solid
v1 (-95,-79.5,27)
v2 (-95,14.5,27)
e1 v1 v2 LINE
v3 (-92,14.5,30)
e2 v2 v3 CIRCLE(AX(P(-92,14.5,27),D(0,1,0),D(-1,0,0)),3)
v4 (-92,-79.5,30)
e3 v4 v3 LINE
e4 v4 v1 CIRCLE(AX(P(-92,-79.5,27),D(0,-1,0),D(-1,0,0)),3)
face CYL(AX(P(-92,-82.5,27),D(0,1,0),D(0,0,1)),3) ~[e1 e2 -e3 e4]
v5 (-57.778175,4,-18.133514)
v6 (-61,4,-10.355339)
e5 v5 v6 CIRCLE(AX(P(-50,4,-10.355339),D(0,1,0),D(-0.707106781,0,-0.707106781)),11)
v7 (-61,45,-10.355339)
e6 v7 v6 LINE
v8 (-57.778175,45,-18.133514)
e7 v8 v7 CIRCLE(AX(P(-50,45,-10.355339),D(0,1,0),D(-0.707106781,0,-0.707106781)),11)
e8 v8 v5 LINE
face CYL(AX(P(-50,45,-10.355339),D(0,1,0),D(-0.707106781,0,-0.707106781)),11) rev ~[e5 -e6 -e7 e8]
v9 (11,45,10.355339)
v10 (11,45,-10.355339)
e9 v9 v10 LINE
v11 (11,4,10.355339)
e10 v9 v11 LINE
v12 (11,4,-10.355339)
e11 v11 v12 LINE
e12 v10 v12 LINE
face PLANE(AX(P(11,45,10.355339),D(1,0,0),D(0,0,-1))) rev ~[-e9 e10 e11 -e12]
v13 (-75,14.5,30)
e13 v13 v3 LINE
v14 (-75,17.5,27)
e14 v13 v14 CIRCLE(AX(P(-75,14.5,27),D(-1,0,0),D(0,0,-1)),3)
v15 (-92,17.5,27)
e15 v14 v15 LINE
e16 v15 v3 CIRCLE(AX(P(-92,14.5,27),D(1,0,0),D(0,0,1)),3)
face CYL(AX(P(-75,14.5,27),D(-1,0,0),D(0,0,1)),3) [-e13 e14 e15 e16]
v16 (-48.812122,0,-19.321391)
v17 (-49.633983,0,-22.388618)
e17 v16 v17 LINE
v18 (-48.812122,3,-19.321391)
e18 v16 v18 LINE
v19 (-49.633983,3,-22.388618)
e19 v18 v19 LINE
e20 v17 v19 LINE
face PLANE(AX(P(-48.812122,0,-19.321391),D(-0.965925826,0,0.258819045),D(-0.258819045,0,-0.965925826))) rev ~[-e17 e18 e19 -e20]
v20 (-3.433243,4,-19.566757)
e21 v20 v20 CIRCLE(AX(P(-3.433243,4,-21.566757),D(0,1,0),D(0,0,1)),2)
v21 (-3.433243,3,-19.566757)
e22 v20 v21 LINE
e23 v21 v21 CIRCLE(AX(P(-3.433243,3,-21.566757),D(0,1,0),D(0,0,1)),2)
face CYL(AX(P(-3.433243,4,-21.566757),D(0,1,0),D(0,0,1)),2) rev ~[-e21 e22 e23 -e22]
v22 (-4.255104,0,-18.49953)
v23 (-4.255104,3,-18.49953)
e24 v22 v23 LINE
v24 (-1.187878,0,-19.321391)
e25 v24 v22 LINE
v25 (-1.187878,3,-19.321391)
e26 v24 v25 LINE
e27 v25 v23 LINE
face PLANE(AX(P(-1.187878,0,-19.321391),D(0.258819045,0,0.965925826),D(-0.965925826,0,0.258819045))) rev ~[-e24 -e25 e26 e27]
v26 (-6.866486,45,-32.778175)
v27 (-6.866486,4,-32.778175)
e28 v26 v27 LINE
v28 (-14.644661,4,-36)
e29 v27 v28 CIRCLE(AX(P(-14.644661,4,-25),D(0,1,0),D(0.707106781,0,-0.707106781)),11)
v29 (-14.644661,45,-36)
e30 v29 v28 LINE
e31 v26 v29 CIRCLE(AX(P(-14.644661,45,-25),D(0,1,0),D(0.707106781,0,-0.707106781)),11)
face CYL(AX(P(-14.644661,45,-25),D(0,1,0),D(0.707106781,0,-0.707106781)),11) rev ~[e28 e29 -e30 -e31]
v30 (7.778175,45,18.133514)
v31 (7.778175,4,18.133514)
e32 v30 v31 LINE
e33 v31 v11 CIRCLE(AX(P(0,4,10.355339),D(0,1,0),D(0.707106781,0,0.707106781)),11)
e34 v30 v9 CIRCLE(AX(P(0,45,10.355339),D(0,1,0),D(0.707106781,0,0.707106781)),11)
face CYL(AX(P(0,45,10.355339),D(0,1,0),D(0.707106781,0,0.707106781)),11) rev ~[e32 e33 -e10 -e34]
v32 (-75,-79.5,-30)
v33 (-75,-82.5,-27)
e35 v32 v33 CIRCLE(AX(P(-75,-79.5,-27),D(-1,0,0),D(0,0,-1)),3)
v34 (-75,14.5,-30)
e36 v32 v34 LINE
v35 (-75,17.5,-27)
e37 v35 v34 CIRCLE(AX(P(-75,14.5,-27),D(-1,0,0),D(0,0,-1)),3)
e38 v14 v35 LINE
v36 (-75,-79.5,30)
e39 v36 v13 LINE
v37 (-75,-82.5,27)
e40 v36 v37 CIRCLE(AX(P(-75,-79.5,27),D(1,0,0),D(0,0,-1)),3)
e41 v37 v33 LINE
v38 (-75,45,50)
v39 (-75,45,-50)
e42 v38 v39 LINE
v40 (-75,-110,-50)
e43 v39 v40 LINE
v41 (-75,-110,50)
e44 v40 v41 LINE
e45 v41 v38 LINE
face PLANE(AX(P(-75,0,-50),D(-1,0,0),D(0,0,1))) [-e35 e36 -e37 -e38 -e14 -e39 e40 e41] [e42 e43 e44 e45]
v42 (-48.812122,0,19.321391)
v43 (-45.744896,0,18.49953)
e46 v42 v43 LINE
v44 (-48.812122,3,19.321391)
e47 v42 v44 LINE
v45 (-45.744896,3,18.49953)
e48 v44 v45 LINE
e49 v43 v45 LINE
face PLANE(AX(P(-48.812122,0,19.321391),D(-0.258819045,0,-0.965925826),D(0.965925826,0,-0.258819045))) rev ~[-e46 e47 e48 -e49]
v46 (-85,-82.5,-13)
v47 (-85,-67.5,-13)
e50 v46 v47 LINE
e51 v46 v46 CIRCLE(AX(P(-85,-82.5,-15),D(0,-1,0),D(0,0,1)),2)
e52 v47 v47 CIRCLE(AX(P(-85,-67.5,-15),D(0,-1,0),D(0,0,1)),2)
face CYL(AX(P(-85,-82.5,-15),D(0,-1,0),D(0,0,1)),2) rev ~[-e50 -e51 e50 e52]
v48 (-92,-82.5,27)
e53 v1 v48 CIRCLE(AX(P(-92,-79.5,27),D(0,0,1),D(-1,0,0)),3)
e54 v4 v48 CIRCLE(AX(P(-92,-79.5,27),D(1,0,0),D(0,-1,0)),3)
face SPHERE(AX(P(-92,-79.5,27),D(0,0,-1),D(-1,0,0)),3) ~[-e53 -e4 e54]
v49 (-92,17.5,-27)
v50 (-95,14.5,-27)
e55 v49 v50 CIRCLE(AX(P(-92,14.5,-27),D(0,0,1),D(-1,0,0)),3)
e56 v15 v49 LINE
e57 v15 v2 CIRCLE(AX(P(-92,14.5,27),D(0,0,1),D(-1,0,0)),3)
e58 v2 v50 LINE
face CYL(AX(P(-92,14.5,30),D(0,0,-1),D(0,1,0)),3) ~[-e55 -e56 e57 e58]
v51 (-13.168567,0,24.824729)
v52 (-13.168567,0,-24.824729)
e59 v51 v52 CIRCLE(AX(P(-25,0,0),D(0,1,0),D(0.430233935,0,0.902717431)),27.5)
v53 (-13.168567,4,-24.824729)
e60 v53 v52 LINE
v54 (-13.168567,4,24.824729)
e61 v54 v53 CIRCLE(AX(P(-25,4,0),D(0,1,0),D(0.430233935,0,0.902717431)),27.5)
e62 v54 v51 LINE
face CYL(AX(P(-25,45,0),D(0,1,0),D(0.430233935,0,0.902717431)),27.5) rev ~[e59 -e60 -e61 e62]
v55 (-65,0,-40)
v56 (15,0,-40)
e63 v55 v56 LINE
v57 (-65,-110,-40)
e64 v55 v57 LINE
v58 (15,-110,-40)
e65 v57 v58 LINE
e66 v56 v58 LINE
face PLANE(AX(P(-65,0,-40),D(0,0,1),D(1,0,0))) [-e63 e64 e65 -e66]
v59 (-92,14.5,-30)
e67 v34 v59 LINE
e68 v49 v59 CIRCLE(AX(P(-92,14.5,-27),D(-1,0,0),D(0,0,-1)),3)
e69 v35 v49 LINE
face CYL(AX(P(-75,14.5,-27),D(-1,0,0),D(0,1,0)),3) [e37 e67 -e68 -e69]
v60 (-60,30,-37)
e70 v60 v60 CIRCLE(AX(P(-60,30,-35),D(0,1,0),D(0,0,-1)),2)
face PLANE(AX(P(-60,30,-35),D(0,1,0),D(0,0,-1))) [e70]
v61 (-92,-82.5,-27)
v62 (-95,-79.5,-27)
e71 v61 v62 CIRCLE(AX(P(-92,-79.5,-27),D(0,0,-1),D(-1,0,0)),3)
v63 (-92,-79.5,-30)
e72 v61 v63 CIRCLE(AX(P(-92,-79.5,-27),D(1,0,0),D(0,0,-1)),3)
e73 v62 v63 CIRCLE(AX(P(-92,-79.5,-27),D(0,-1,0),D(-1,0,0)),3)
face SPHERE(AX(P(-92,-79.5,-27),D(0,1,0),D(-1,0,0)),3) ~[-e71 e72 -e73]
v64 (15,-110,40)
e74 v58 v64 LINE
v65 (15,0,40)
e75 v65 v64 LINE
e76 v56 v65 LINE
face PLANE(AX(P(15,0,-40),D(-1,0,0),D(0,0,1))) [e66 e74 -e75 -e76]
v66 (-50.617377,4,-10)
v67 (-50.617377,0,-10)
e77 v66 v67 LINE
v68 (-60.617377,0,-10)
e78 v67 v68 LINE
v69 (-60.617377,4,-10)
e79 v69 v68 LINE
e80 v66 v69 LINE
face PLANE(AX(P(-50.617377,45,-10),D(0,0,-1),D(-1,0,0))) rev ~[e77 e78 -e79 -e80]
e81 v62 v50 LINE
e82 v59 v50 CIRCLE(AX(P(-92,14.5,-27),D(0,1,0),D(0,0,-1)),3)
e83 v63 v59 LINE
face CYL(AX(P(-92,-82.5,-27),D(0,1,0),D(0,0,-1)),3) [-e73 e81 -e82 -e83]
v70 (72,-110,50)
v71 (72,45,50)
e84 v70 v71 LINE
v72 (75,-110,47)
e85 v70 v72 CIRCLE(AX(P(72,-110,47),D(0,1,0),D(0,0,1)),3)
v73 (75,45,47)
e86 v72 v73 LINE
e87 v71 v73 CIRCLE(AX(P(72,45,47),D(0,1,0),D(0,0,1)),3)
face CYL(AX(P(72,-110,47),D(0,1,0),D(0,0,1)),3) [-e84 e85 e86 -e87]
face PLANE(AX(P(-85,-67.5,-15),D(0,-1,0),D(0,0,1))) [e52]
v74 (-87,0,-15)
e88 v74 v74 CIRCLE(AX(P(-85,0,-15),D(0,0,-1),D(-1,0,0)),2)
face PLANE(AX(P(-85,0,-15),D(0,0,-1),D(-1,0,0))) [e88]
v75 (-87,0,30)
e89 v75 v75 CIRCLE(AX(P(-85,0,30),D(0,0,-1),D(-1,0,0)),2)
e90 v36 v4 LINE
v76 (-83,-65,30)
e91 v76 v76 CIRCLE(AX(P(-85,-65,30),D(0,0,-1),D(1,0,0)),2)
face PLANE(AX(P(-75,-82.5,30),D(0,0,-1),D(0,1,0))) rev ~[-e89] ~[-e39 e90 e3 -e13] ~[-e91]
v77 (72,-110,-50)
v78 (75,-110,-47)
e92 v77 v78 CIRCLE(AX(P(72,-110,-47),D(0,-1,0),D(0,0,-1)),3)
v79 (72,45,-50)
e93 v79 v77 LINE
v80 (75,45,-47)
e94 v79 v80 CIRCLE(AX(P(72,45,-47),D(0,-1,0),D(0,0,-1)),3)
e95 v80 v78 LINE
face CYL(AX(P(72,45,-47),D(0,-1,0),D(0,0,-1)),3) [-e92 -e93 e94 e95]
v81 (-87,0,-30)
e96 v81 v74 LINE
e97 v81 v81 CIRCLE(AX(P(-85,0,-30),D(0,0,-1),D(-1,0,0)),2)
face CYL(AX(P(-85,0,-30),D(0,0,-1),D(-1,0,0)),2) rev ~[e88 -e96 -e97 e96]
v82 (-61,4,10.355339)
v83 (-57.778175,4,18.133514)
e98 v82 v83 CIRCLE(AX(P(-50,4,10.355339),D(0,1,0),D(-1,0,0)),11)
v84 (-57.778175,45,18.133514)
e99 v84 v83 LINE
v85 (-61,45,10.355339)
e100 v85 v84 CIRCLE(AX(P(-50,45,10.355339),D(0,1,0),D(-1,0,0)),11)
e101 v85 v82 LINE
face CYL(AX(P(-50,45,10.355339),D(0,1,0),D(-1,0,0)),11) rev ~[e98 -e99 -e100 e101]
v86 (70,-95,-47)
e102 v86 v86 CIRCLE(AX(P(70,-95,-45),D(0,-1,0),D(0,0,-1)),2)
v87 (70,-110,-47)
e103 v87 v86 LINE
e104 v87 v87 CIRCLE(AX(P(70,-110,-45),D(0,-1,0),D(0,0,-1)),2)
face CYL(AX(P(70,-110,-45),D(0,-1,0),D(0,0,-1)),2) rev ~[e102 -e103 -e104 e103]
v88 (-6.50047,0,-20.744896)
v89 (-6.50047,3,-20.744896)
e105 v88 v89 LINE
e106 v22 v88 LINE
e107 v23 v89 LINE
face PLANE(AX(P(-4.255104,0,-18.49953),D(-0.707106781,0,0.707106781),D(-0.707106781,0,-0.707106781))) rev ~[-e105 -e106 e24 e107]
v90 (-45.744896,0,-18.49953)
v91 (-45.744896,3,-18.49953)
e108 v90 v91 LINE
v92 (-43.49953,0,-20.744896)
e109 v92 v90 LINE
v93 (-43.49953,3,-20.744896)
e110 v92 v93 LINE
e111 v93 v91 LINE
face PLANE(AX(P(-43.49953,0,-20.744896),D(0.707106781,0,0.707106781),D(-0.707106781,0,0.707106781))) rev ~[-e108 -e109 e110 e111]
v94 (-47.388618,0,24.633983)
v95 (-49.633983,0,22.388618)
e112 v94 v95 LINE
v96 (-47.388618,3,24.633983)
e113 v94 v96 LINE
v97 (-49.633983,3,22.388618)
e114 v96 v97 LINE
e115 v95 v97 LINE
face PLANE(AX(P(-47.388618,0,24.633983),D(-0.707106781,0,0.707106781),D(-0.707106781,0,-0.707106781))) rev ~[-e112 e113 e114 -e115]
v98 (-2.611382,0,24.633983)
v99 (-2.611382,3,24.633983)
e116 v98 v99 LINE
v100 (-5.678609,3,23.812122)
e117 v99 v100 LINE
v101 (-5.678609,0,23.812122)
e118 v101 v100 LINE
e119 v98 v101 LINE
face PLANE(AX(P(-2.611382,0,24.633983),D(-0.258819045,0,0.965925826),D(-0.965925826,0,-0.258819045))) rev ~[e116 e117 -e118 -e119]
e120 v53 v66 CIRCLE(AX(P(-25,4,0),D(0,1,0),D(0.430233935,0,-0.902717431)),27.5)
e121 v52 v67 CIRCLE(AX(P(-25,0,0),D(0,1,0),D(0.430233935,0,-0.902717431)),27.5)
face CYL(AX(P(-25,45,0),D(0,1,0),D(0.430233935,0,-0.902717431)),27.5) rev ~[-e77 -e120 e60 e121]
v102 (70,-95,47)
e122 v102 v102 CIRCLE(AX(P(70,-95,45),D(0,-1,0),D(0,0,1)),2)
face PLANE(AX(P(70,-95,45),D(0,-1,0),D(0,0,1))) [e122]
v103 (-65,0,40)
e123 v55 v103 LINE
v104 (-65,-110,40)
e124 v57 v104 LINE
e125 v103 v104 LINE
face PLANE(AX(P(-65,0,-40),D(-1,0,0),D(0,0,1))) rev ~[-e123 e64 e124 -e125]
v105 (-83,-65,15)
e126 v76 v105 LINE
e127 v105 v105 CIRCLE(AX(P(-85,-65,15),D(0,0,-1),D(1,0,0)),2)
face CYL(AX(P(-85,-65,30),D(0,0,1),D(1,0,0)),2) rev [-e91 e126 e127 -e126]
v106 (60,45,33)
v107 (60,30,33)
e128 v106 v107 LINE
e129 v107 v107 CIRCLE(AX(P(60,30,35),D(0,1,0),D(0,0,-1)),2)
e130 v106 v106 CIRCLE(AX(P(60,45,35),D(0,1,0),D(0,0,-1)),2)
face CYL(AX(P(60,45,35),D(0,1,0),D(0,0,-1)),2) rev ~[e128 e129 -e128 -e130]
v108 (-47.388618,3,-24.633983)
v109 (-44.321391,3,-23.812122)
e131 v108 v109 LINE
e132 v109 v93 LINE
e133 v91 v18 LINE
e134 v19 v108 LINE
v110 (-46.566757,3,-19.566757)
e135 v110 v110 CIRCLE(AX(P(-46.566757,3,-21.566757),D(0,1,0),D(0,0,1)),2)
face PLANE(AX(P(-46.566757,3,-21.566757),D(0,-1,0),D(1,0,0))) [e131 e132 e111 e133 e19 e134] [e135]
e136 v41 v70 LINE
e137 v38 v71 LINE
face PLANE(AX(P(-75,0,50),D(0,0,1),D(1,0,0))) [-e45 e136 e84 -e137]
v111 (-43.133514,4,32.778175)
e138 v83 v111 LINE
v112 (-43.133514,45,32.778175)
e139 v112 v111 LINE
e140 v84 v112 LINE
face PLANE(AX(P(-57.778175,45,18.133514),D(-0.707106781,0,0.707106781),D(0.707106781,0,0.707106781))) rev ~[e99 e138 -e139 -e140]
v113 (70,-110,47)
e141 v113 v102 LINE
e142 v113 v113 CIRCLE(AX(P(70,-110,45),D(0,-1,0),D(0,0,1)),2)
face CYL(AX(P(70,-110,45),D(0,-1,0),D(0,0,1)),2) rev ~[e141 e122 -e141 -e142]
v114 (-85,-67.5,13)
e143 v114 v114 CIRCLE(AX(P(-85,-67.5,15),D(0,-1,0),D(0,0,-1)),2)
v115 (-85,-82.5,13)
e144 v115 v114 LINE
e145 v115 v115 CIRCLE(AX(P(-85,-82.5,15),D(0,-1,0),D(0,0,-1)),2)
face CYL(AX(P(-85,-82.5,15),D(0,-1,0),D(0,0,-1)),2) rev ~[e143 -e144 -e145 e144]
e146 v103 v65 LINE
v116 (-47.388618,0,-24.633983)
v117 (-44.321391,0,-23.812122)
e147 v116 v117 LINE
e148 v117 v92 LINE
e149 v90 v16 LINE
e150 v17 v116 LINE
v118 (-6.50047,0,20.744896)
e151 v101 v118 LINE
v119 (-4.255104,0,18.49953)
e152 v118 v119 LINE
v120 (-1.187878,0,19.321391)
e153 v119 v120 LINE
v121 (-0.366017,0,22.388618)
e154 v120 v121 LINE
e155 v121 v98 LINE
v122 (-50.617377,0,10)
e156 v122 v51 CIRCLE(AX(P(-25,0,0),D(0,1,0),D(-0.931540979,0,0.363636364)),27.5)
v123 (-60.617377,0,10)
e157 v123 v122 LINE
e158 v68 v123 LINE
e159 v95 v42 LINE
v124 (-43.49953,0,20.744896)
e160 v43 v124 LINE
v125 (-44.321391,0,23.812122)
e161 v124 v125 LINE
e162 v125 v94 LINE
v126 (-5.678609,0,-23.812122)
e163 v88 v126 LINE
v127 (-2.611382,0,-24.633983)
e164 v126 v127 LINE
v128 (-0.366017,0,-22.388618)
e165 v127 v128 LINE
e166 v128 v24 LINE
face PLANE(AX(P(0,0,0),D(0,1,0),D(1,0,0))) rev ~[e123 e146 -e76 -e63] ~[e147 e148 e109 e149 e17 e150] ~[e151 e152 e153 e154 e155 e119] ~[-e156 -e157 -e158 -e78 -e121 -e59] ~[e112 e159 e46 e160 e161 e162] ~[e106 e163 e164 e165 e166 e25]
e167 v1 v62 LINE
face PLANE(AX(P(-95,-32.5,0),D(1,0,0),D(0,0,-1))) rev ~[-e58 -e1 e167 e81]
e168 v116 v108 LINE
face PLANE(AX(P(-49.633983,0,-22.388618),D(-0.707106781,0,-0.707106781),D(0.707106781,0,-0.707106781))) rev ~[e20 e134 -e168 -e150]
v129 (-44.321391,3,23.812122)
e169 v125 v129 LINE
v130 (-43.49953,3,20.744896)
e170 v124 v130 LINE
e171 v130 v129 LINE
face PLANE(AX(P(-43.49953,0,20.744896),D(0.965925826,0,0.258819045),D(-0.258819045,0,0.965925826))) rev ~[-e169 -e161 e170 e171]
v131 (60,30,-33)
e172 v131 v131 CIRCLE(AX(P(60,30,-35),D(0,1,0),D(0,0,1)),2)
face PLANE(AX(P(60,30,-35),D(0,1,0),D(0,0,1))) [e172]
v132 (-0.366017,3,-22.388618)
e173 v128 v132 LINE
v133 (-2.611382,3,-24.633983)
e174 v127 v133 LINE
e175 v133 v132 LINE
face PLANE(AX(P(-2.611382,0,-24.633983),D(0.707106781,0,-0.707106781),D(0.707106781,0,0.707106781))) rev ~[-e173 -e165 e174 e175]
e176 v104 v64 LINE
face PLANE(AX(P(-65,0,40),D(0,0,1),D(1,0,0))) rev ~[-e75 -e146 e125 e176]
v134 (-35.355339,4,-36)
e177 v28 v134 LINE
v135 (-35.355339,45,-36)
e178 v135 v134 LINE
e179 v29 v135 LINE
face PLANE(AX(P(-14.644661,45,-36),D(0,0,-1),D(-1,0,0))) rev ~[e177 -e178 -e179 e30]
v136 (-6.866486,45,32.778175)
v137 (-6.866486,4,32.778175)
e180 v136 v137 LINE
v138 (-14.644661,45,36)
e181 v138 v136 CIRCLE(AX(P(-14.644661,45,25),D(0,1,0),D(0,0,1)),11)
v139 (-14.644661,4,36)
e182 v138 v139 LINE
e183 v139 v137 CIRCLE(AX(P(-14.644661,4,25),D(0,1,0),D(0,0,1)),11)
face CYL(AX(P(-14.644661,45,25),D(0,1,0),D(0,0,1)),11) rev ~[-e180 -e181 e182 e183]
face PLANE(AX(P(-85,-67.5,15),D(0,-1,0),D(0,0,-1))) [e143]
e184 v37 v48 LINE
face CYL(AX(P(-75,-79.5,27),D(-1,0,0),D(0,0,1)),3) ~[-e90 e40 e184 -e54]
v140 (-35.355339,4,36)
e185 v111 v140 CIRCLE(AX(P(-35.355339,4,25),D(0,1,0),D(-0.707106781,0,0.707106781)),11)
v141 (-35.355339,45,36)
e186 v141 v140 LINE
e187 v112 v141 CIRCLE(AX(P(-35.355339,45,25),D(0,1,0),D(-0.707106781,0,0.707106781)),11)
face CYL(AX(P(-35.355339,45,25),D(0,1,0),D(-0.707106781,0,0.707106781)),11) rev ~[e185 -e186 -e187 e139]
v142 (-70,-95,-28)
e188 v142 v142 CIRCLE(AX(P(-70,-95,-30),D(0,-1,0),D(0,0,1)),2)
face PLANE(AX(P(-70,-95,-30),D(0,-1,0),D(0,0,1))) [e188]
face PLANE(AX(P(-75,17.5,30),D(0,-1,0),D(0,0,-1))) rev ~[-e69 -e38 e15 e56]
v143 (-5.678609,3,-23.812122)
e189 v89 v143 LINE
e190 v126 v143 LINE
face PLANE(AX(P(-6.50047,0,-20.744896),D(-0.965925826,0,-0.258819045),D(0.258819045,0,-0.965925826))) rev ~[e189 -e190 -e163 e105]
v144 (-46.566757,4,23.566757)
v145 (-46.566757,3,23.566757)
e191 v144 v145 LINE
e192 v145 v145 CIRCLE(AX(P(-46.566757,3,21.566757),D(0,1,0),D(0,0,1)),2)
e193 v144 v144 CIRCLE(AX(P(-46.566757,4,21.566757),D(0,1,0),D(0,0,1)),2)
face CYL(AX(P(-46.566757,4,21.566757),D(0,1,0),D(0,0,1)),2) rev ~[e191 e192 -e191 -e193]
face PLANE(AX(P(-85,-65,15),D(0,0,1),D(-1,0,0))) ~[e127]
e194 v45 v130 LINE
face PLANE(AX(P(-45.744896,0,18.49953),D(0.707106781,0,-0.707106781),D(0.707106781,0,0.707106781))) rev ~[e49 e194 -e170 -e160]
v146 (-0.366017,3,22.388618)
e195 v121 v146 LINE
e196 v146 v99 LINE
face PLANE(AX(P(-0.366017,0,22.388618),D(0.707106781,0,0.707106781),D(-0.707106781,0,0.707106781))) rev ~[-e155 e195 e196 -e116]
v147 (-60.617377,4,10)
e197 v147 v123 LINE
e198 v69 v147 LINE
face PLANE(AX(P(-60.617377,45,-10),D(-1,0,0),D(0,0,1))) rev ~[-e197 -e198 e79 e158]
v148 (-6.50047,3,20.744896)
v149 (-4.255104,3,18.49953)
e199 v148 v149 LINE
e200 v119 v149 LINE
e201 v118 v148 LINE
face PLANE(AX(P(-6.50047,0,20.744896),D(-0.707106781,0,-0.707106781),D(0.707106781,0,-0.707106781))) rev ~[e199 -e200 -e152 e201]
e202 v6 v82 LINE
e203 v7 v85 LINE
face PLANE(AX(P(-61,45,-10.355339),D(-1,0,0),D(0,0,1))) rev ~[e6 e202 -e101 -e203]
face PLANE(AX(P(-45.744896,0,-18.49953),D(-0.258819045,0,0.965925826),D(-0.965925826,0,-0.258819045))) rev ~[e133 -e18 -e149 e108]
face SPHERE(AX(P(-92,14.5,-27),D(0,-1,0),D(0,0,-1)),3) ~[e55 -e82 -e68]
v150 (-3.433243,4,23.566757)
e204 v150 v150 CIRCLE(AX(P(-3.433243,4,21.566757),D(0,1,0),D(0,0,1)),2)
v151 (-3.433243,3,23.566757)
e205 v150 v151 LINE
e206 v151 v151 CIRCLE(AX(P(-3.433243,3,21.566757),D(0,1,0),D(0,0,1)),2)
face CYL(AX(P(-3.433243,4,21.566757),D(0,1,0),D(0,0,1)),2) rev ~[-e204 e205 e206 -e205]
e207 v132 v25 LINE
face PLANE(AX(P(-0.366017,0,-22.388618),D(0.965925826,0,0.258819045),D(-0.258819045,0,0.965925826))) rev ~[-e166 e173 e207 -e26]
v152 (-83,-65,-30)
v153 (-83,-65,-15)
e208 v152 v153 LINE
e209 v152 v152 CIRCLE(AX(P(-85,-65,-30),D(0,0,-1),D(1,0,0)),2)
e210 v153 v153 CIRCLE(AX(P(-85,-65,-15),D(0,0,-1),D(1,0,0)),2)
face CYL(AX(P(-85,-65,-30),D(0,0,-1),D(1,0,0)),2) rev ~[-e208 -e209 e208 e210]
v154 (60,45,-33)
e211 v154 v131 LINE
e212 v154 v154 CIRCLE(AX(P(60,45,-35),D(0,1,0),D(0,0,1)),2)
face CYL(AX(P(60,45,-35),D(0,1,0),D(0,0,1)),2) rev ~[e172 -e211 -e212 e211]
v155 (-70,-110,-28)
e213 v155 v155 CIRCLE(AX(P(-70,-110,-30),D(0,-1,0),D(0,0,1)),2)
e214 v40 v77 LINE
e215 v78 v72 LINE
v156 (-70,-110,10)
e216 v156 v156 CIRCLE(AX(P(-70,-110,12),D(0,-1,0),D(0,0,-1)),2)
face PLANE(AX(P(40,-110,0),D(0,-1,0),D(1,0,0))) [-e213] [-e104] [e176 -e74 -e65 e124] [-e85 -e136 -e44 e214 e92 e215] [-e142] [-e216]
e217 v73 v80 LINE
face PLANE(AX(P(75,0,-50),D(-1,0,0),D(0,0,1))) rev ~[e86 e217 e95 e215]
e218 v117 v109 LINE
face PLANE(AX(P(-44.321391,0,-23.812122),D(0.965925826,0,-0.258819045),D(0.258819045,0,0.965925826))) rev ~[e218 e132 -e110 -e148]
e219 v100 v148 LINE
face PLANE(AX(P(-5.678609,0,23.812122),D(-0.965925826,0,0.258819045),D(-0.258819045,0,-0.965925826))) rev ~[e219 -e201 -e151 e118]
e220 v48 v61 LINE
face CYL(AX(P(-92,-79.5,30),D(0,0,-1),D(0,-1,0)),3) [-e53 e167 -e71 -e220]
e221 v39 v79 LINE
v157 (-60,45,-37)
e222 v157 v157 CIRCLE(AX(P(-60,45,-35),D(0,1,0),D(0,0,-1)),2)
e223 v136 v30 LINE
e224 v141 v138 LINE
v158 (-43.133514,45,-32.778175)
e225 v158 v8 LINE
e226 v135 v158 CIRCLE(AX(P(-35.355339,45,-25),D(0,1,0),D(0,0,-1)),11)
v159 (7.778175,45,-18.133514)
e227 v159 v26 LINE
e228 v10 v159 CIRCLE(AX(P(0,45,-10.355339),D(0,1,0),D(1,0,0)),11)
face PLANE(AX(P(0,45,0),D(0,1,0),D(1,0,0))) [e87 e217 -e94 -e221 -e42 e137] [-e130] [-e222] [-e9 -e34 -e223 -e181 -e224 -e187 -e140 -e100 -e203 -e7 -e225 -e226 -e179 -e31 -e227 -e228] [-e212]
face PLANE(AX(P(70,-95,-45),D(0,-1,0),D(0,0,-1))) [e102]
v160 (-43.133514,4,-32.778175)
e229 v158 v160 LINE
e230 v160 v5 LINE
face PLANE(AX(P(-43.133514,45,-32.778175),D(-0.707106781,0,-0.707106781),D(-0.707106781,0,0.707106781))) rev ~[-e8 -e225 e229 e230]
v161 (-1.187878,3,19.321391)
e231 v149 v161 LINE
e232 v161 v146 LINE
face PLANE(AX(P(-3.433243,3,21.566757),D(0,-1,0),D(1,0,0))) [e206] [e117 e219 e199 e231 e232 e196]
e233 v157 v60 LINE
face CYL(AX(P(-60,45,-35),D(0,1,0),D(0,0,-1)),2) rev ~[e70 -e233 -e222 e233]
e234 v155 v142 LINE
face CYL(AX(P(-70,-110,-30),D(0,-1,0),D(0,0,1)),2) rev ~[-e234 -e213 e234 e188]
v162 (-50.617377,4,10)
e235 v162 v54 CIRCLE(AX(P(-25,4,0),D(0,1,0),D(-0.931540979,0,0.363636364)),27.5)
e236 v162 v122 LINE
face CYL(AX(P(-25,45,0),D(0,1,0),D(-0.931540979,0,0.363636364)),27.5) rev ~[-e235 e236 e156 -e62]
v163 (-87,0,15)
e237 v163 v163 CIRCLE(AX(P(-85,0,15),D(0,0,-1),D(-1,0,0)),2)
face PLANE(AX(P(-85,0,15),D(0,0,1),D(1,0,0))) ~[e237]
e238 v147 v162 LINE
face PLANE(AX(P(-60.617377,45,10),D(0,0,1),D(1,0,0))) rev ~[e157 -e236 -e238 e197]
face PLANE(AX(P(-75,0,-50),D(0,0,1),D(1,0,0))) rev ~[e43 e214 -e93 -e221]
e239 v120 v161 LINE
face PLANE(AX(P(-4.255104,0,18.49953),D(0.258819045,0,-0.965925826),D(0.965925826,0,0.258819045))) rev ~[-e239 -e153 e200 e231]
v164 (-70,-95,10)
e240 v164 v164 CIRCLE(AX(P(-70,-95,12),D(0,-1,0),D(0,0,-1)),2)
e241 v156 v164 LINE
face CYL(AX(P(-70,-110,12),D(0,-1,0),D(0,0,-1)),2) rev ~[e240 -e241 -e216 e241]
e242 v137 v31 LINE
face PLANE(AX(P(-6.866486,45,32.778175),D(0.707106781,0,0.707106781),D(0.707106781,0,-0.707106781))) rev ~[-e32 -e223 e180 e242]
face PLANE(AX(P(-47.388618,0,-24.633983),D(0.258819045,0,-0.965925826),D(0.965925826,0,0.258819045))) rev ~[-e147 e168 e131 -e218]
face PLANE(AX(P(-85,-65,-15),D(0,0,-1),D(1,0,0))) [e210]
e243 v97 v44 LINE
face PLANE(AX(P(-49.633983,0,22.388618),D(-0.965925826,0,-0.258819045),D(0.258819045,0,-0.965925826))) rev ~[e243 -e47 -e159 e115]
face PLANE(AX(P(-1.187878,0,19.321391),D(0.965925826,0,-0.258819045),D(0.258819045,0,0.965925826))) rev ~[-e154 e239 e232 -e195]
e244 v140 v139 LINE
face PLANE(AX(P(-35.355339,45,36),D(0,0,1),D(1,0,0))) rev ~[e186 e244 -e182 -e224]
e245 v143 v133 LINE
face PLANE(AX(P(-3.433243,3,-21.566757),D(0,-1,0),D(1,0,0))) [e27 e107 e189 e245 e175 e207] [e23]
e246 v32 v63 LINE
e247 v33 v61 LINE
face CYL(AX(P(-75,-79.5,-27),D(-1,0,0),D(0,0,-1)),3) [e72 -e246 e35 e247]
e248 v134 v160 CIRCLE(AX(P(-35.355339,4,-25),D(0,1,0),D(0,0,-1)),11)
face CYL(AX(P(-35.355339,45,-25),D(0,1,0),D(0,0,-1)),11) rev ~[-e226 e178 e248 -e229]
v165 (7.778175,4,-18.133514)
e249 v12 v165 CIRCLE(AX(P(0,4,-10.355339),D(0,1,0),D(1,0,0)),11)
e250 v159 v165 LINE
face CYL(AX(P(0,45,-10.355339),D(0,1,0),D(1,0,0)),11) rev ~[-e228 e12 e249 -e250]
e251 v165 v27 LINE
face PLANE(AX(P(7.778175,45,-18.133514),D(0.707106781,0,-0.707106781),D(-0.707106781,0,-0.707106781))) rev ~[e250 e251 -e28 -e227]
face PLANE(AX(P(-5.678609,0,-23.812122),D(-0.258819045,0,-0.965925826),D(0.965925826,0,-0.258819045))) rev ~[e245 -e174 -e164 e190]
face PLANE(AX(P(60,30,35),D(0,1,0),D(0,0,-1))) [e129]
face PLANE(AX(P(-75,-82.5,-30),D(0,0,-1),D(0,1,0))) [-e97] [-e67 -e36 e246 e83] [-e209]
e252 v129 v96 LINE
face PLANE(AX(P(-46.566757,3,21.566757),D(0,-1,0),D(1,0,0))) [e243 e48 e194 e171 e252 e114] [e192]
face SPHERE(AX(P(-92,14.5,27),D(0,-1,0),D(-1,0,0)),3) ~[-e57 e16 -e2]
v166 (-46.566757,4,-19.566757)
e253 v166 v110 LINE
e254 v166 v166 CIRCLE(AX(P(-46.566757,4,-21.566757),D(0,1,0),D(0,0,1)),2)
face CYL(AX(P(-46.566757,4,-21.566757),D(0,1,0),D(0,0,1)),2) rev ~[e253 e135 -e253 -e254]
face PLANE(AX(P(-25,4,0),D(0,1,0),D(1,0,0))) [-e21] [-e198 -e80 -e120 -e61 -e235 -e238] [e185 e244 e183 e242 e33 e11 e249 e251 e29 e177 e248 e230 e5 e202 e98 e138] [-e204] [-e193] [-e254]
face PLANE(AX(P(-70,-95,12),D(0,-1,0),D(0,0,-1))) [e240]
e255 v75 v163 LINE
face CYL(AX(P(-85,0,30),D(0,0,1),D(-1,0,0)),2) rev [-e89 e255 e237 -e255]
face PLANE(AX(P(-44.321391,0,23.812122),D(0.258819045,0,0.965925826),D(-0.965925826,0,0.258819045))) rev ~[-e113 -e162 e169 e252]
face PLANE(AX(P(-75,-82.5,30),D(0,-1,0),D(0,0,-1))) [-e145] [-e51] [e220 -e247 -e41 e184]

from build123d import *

# Parameters (mm, degrees)
SKETCH1_W           = 150
SKETCH1_H           = 100
BOSS_EXTRUDE1_DEPTH = 45
CUT_EXTRUDE1_DEPTH  = 41
CUT_EXTRUDE2_DEPTH  = 101.747208398
CUT_EXTRUDE3_DEPTH  = 3
SKETCH5_R           = 2
CUT_EXTRUDE4_DEPTH  = 100.025249305
SKETCH6_W           = 150
SKETCH6_H           = 100
SKETCH6_W_2         = 130
SKETCH6_H_2         = 80
BOSS_EXTRUDE2_DEPTH = 110
SKETCH7_R           = 2
CUT_EXTRUDE5_DEPTH  = 15
SKETCH11_W          = 60
SKETCH11_H          = 100
BOSS_EXTRUDE5_DEPTH = 20
SKETCH12_R          = 2
CUT_EXTRUDE6_DEPTH  = 15
SKETCH13_R          = 2
CUT_EXTRUDE7_DEPTH  = 15
SKETCH14_R          = 2
CUT_EXTRUDE8_DEPTH  = 15
SKETCH15_W          = 50
SKETCH15_H          = 80
BOSS_EXTRUDE6_DEPTH = 110
FILLET1_R           = 3


with BuildPart() as part:
    # Sketch1 → Boss-Extrude1 (new body)
    with BuildSketch(Plane(origin=(0, 0, 0), x_dir=(1, 0, 0), z_dir=(0, 1, 0))):
        Rectangle(SKETCH1_W, SKETCH1_H)
    extrude(amount=BOSS_EXTRUDE1_DEPTH)

    # Sketch2 → Cut-Extrude1 (cut)
    with BuildSketch(Plane(origin=(0, 45, 0), x_dir=(1, 0, 0), z_dir=(0, 1, 0))):
        with BuildLine():
            Line((-6.866486348, -32.778174593), (7.778174593, -18.133513652))
            ThreePointArc((7.778174593, -18.133513652), (10.162674858, -14.564856815), (11, -10.355339059))
            Line((11, -10.355339059), (11, 10.355339059))
            ThreePointArc((11, 10.355339059), (10.162674858, 14.564856815), (7.778174593, 18.133513652))
            Line((7.778174593, 18.133513652), (-6.866486348, 32.778174593))
            ThreePointArc((-6.866486348, 32.778174593), (-10.435143185, 35.162674858), (-14.644660941, 36))
            Line((-14.644660941, 36), (-35.355339059, 36))
            ThreePointArc((-35.355339059, 36), (-39.564856815, 35.162674858), (-43.133513652, 32.778174593))
            Line((-43.133513652, 32.778174593), (-57.778174593, 18.133513652))
            ThreePointArc((-57.778174593, 18.133513652), (-60.162674858, 14.564856815), (-61, 10.355339059))
            Line((-61, 10.355339059), (-61, -10.355339059))
            ThreePointArc((-61, -10.355339059), (-60.162674858, -14.564856815), (-57.778174593, -18.133513652))
            Line((-57.778174593, -18.133513652), (-43.133513652, -32.778174593))
            ThreePointArc((-43.133513652, -32.778174593), (-39.564856815, -35.162674858), (-35.355339059, -36))
            Line((-35.355339059, -36), (-14.644660941, -36))
            ThreePointArc((-14.644660941, -36), (-10.435143185, -35.162674858), (-6.866486348, -32.778174593))
        make_face()
    extrude(amount=-CUT_EXTRUDE1_DEPTH, mode=Mode.SUBTRACT)

    # Sketch3 → Cut-Extrude2 (cut, through all)
    with BuildSketch(Plane(origin=(0, 45, 0), x_dir=(1, 0, 0), z_dir=(0, 1, 0))):
        with BuildLine():
            Line((-50.617376915, 10), (-60.617376915, 10))
            Line((-60.617376915, 10), (-60.617376915, -10))
            Line((-60.617376915, -10), (-50.617376915, -10))
            ThreePointArc((-50.617376915, -10), (-35.122065553, -25.569391642), (-13.168566779, -24.824729363))
            ThreePointArc((-13.168566779, -24.824729363), (2.5, 0), (-13.168566779, 24.824729363))
            ThreePointArc((-13.168566779, 24.824729363), (-35.122065553, 25.569391642), (-50.617376915, 10))
        make_face()
    extrude(amount=-CUT_EXTRUDE2_DEPTH, mode=Mode.SUBTRACT)

    # Sketch4 → Cut-Extrude3 (cut)
    with BuildSketch(Plane.XZ):
        Polygon((-0.366016727, 22.388617676), (-2.611382324, 24.633983273), (-5.678608771, 23.812122424), (-6.500469621, 20.744895977), (-4.255104023, 18.499530379), (-1.187877576, 19.321391229), align=None)
        Polygon((-47.388617676, 24.633983273), (-49.633983273, 22.388617676), (-48.812122424, 19.321391229), (-45.744895977, 18.499530379), (-43.499530379, 20.744895977), (-44.321391229, 23.812122424), align=None)
        Polygon((-2.611382324, -24.633983273), (-0.366016727, -22.388617676), (-1.187877576, -19.321391229), (-4.255104023, -18.499530379), (-6.500469621, -20.744895977), (-5.678608771, -23.812122424), align=None)
        Polygon((-49.633983273, -22.388617676), (-47.388617676, -24.633983273), (-44.321391229, -23.812122424), (-43.499530379, -20.744895977), (-45.744895977, -18.499530379), (-48.812122424, -19.321391229), align=None)
    extrude(amount=-CUT_EXTRUDE3_DEPTH, mode=Mode.SUBTRACT)

    # Sketch5 → Cut-Extrude4 (cut, through all)
    with BuildSketch(Plane(origin=(0, 4, 0), x_dir=(1, 0, 0), z_dir=(0, 1, 0))):
        with Locations(Location((-46.566756826, 21.566756826, 0), (0, 0, 270))):
            Circle(SKETCH5_R)
        with Locations(Location((-3.433243174, 21.566756826, 0), (0, 0, 270))):
            Circle(SKETCH5_R)
        with Locations(Location((-3.433243174, -21.566756826, 0), (0, 0, 270))):
            Circle(SKETCH5_R)
        with Locations(Location((-46.566756826, -21.566756826, 0), (0, 0, 270))):
            Circle(SKETCH5_R)
    extrude(amount=-CUT_EXTRUDE4_DEPTH, mode=Mode.SUBTRACT)

    # Sketch6 → Boss-Extrude2 (add)
    with BuildSketch(Plane.XZ):
        Rectangle(SKETCH6_W, SKETCH6_H)
        Rectangle(SKETCH6_W_2, SKETCH6_H_2, mode=Mode.SUBTRACT)
    extrude(amount=BOSS_EXTRUDE2_DEPTH)

    # Sketch7 → Cut-Extrude5 (cut)
    with BuildSketch(Plane.XZ.offset(110)):
        with Locations(Location((70, 45, 0), (0, 0, 90))):
            Circle(SKETCH7_R)
        with Locations(Location((70, -45, 0), (0, 0, 270))):
            Circle(SKETCH7_R)
        with Locations(Location((-70, -30, 0), (0, 0, 90))):
            Circle(SKETCH7_R)
        with Locations(Location((-70, 12, 0), (0, 0, 270))):
            Circle(SKETCH7_R)
    extrude(amount=-CUT_EXTRUDE5_DEPTH, mode=Mode.SUBTRACT)

    # Sketch11 → Boss-Extrude5 (add)
    with BuildSketch(Plane(origin=(-75, 0, 0), x_dir=(0, 0, -1), z_dir=(1, 0, 0))):
        with Locations((0, -32.5)):
            Rectangle(SKETCH11_W, SKETCH11_H)
    extrude(amount=-BOSS_EXTRUDE5_DEPTH)

    # Sketch12 → Cut-Extrude6 (cut)
    with BuildSketch(Plane(origin=(0, 0, -30), x_dir=(-1, 0, 0), z_dir=(0, 0, -1))):
        with Locations((85, 0)):
            Circle(SKETCH12_R)
        with Locations(Location((85, -65, 0), (0, 0, 180))):
            Circle(SKETCH12_R)
    cut_extrude6 = extrude(amount=-CUT_EXTRUDE6_DEPTH, mode=Mode.SUBTRACT)

    # Mirror1: Cut-Extrude6 across plane
    add(cut_extrude6.mirror(Plane.XY), mode=Mode.SUBTRACT)

    # Sketch13 → Cut-Extrude7 (cut)
    with BuildSketch(Plane.XZ.offset(82.5)):
        with Locations(Location((-85, 15, 0), (0, 0, 270))):
            Circle(SKETCH13_R)
        with Locations(Location((-85, -15, 0), (0, 0, 90))):
            Circle(SKETCH13_R)
    extrude(amount=-CUT_EXTRUDE7_DEPTH, mode=Mode.SUBTRACT)

    # Sketch14 → Cut-Extrude8 (cut)
    with BuildSketch(Plane(origin=(0, 45, 0), x_dir=(1, 0, 0), z_dir=(0, 1, 0))):
        with Locations(Location((60, 35, 0), (0, 0, 270))):
            Circle(SKETCH14_R)
        with Locations(Location((60, -35, 0), (0, 0, 90))):
            Circle(SKETCH14_R)
        with Locations(Location((-60, 35, 0), (0, 0, 90))):
            Circle(SKETCH14_R)
    extrude(amount=-CUT_EXTRUDE8_DEPTH, mode=Mode.SUBTRACT)

    # Sketch15 → Boss-Extrude6 (add)
    with BuildSketch(Plane.XZ):
        with Locations((40, 0)):
            Rectangle(SKETCH15_W, SKETCH15_H)
    extrude(amount=BOSS_EXTRUDE6_DEPTH)

    # Fillet1
    fillet1_edges = [part.edges().sort_by_distance(p)[0] for p in [
        (-95, -32.5, -30),
        (-85, 17.5, -30),
        (-95, -82.5, 0),
        (-85, -82.5, -30),
        (-95, -32.5, 30),
        (-85, -82.5, 30),
        (-95, 17.5, 0),
        (-85, 17.5, 30),
        (75, -32.5, 50),
        (75, -32.5, -50),
    ]]
    fillet(fillet1_edges, radius=FILLET1_R)


solid = part.part
